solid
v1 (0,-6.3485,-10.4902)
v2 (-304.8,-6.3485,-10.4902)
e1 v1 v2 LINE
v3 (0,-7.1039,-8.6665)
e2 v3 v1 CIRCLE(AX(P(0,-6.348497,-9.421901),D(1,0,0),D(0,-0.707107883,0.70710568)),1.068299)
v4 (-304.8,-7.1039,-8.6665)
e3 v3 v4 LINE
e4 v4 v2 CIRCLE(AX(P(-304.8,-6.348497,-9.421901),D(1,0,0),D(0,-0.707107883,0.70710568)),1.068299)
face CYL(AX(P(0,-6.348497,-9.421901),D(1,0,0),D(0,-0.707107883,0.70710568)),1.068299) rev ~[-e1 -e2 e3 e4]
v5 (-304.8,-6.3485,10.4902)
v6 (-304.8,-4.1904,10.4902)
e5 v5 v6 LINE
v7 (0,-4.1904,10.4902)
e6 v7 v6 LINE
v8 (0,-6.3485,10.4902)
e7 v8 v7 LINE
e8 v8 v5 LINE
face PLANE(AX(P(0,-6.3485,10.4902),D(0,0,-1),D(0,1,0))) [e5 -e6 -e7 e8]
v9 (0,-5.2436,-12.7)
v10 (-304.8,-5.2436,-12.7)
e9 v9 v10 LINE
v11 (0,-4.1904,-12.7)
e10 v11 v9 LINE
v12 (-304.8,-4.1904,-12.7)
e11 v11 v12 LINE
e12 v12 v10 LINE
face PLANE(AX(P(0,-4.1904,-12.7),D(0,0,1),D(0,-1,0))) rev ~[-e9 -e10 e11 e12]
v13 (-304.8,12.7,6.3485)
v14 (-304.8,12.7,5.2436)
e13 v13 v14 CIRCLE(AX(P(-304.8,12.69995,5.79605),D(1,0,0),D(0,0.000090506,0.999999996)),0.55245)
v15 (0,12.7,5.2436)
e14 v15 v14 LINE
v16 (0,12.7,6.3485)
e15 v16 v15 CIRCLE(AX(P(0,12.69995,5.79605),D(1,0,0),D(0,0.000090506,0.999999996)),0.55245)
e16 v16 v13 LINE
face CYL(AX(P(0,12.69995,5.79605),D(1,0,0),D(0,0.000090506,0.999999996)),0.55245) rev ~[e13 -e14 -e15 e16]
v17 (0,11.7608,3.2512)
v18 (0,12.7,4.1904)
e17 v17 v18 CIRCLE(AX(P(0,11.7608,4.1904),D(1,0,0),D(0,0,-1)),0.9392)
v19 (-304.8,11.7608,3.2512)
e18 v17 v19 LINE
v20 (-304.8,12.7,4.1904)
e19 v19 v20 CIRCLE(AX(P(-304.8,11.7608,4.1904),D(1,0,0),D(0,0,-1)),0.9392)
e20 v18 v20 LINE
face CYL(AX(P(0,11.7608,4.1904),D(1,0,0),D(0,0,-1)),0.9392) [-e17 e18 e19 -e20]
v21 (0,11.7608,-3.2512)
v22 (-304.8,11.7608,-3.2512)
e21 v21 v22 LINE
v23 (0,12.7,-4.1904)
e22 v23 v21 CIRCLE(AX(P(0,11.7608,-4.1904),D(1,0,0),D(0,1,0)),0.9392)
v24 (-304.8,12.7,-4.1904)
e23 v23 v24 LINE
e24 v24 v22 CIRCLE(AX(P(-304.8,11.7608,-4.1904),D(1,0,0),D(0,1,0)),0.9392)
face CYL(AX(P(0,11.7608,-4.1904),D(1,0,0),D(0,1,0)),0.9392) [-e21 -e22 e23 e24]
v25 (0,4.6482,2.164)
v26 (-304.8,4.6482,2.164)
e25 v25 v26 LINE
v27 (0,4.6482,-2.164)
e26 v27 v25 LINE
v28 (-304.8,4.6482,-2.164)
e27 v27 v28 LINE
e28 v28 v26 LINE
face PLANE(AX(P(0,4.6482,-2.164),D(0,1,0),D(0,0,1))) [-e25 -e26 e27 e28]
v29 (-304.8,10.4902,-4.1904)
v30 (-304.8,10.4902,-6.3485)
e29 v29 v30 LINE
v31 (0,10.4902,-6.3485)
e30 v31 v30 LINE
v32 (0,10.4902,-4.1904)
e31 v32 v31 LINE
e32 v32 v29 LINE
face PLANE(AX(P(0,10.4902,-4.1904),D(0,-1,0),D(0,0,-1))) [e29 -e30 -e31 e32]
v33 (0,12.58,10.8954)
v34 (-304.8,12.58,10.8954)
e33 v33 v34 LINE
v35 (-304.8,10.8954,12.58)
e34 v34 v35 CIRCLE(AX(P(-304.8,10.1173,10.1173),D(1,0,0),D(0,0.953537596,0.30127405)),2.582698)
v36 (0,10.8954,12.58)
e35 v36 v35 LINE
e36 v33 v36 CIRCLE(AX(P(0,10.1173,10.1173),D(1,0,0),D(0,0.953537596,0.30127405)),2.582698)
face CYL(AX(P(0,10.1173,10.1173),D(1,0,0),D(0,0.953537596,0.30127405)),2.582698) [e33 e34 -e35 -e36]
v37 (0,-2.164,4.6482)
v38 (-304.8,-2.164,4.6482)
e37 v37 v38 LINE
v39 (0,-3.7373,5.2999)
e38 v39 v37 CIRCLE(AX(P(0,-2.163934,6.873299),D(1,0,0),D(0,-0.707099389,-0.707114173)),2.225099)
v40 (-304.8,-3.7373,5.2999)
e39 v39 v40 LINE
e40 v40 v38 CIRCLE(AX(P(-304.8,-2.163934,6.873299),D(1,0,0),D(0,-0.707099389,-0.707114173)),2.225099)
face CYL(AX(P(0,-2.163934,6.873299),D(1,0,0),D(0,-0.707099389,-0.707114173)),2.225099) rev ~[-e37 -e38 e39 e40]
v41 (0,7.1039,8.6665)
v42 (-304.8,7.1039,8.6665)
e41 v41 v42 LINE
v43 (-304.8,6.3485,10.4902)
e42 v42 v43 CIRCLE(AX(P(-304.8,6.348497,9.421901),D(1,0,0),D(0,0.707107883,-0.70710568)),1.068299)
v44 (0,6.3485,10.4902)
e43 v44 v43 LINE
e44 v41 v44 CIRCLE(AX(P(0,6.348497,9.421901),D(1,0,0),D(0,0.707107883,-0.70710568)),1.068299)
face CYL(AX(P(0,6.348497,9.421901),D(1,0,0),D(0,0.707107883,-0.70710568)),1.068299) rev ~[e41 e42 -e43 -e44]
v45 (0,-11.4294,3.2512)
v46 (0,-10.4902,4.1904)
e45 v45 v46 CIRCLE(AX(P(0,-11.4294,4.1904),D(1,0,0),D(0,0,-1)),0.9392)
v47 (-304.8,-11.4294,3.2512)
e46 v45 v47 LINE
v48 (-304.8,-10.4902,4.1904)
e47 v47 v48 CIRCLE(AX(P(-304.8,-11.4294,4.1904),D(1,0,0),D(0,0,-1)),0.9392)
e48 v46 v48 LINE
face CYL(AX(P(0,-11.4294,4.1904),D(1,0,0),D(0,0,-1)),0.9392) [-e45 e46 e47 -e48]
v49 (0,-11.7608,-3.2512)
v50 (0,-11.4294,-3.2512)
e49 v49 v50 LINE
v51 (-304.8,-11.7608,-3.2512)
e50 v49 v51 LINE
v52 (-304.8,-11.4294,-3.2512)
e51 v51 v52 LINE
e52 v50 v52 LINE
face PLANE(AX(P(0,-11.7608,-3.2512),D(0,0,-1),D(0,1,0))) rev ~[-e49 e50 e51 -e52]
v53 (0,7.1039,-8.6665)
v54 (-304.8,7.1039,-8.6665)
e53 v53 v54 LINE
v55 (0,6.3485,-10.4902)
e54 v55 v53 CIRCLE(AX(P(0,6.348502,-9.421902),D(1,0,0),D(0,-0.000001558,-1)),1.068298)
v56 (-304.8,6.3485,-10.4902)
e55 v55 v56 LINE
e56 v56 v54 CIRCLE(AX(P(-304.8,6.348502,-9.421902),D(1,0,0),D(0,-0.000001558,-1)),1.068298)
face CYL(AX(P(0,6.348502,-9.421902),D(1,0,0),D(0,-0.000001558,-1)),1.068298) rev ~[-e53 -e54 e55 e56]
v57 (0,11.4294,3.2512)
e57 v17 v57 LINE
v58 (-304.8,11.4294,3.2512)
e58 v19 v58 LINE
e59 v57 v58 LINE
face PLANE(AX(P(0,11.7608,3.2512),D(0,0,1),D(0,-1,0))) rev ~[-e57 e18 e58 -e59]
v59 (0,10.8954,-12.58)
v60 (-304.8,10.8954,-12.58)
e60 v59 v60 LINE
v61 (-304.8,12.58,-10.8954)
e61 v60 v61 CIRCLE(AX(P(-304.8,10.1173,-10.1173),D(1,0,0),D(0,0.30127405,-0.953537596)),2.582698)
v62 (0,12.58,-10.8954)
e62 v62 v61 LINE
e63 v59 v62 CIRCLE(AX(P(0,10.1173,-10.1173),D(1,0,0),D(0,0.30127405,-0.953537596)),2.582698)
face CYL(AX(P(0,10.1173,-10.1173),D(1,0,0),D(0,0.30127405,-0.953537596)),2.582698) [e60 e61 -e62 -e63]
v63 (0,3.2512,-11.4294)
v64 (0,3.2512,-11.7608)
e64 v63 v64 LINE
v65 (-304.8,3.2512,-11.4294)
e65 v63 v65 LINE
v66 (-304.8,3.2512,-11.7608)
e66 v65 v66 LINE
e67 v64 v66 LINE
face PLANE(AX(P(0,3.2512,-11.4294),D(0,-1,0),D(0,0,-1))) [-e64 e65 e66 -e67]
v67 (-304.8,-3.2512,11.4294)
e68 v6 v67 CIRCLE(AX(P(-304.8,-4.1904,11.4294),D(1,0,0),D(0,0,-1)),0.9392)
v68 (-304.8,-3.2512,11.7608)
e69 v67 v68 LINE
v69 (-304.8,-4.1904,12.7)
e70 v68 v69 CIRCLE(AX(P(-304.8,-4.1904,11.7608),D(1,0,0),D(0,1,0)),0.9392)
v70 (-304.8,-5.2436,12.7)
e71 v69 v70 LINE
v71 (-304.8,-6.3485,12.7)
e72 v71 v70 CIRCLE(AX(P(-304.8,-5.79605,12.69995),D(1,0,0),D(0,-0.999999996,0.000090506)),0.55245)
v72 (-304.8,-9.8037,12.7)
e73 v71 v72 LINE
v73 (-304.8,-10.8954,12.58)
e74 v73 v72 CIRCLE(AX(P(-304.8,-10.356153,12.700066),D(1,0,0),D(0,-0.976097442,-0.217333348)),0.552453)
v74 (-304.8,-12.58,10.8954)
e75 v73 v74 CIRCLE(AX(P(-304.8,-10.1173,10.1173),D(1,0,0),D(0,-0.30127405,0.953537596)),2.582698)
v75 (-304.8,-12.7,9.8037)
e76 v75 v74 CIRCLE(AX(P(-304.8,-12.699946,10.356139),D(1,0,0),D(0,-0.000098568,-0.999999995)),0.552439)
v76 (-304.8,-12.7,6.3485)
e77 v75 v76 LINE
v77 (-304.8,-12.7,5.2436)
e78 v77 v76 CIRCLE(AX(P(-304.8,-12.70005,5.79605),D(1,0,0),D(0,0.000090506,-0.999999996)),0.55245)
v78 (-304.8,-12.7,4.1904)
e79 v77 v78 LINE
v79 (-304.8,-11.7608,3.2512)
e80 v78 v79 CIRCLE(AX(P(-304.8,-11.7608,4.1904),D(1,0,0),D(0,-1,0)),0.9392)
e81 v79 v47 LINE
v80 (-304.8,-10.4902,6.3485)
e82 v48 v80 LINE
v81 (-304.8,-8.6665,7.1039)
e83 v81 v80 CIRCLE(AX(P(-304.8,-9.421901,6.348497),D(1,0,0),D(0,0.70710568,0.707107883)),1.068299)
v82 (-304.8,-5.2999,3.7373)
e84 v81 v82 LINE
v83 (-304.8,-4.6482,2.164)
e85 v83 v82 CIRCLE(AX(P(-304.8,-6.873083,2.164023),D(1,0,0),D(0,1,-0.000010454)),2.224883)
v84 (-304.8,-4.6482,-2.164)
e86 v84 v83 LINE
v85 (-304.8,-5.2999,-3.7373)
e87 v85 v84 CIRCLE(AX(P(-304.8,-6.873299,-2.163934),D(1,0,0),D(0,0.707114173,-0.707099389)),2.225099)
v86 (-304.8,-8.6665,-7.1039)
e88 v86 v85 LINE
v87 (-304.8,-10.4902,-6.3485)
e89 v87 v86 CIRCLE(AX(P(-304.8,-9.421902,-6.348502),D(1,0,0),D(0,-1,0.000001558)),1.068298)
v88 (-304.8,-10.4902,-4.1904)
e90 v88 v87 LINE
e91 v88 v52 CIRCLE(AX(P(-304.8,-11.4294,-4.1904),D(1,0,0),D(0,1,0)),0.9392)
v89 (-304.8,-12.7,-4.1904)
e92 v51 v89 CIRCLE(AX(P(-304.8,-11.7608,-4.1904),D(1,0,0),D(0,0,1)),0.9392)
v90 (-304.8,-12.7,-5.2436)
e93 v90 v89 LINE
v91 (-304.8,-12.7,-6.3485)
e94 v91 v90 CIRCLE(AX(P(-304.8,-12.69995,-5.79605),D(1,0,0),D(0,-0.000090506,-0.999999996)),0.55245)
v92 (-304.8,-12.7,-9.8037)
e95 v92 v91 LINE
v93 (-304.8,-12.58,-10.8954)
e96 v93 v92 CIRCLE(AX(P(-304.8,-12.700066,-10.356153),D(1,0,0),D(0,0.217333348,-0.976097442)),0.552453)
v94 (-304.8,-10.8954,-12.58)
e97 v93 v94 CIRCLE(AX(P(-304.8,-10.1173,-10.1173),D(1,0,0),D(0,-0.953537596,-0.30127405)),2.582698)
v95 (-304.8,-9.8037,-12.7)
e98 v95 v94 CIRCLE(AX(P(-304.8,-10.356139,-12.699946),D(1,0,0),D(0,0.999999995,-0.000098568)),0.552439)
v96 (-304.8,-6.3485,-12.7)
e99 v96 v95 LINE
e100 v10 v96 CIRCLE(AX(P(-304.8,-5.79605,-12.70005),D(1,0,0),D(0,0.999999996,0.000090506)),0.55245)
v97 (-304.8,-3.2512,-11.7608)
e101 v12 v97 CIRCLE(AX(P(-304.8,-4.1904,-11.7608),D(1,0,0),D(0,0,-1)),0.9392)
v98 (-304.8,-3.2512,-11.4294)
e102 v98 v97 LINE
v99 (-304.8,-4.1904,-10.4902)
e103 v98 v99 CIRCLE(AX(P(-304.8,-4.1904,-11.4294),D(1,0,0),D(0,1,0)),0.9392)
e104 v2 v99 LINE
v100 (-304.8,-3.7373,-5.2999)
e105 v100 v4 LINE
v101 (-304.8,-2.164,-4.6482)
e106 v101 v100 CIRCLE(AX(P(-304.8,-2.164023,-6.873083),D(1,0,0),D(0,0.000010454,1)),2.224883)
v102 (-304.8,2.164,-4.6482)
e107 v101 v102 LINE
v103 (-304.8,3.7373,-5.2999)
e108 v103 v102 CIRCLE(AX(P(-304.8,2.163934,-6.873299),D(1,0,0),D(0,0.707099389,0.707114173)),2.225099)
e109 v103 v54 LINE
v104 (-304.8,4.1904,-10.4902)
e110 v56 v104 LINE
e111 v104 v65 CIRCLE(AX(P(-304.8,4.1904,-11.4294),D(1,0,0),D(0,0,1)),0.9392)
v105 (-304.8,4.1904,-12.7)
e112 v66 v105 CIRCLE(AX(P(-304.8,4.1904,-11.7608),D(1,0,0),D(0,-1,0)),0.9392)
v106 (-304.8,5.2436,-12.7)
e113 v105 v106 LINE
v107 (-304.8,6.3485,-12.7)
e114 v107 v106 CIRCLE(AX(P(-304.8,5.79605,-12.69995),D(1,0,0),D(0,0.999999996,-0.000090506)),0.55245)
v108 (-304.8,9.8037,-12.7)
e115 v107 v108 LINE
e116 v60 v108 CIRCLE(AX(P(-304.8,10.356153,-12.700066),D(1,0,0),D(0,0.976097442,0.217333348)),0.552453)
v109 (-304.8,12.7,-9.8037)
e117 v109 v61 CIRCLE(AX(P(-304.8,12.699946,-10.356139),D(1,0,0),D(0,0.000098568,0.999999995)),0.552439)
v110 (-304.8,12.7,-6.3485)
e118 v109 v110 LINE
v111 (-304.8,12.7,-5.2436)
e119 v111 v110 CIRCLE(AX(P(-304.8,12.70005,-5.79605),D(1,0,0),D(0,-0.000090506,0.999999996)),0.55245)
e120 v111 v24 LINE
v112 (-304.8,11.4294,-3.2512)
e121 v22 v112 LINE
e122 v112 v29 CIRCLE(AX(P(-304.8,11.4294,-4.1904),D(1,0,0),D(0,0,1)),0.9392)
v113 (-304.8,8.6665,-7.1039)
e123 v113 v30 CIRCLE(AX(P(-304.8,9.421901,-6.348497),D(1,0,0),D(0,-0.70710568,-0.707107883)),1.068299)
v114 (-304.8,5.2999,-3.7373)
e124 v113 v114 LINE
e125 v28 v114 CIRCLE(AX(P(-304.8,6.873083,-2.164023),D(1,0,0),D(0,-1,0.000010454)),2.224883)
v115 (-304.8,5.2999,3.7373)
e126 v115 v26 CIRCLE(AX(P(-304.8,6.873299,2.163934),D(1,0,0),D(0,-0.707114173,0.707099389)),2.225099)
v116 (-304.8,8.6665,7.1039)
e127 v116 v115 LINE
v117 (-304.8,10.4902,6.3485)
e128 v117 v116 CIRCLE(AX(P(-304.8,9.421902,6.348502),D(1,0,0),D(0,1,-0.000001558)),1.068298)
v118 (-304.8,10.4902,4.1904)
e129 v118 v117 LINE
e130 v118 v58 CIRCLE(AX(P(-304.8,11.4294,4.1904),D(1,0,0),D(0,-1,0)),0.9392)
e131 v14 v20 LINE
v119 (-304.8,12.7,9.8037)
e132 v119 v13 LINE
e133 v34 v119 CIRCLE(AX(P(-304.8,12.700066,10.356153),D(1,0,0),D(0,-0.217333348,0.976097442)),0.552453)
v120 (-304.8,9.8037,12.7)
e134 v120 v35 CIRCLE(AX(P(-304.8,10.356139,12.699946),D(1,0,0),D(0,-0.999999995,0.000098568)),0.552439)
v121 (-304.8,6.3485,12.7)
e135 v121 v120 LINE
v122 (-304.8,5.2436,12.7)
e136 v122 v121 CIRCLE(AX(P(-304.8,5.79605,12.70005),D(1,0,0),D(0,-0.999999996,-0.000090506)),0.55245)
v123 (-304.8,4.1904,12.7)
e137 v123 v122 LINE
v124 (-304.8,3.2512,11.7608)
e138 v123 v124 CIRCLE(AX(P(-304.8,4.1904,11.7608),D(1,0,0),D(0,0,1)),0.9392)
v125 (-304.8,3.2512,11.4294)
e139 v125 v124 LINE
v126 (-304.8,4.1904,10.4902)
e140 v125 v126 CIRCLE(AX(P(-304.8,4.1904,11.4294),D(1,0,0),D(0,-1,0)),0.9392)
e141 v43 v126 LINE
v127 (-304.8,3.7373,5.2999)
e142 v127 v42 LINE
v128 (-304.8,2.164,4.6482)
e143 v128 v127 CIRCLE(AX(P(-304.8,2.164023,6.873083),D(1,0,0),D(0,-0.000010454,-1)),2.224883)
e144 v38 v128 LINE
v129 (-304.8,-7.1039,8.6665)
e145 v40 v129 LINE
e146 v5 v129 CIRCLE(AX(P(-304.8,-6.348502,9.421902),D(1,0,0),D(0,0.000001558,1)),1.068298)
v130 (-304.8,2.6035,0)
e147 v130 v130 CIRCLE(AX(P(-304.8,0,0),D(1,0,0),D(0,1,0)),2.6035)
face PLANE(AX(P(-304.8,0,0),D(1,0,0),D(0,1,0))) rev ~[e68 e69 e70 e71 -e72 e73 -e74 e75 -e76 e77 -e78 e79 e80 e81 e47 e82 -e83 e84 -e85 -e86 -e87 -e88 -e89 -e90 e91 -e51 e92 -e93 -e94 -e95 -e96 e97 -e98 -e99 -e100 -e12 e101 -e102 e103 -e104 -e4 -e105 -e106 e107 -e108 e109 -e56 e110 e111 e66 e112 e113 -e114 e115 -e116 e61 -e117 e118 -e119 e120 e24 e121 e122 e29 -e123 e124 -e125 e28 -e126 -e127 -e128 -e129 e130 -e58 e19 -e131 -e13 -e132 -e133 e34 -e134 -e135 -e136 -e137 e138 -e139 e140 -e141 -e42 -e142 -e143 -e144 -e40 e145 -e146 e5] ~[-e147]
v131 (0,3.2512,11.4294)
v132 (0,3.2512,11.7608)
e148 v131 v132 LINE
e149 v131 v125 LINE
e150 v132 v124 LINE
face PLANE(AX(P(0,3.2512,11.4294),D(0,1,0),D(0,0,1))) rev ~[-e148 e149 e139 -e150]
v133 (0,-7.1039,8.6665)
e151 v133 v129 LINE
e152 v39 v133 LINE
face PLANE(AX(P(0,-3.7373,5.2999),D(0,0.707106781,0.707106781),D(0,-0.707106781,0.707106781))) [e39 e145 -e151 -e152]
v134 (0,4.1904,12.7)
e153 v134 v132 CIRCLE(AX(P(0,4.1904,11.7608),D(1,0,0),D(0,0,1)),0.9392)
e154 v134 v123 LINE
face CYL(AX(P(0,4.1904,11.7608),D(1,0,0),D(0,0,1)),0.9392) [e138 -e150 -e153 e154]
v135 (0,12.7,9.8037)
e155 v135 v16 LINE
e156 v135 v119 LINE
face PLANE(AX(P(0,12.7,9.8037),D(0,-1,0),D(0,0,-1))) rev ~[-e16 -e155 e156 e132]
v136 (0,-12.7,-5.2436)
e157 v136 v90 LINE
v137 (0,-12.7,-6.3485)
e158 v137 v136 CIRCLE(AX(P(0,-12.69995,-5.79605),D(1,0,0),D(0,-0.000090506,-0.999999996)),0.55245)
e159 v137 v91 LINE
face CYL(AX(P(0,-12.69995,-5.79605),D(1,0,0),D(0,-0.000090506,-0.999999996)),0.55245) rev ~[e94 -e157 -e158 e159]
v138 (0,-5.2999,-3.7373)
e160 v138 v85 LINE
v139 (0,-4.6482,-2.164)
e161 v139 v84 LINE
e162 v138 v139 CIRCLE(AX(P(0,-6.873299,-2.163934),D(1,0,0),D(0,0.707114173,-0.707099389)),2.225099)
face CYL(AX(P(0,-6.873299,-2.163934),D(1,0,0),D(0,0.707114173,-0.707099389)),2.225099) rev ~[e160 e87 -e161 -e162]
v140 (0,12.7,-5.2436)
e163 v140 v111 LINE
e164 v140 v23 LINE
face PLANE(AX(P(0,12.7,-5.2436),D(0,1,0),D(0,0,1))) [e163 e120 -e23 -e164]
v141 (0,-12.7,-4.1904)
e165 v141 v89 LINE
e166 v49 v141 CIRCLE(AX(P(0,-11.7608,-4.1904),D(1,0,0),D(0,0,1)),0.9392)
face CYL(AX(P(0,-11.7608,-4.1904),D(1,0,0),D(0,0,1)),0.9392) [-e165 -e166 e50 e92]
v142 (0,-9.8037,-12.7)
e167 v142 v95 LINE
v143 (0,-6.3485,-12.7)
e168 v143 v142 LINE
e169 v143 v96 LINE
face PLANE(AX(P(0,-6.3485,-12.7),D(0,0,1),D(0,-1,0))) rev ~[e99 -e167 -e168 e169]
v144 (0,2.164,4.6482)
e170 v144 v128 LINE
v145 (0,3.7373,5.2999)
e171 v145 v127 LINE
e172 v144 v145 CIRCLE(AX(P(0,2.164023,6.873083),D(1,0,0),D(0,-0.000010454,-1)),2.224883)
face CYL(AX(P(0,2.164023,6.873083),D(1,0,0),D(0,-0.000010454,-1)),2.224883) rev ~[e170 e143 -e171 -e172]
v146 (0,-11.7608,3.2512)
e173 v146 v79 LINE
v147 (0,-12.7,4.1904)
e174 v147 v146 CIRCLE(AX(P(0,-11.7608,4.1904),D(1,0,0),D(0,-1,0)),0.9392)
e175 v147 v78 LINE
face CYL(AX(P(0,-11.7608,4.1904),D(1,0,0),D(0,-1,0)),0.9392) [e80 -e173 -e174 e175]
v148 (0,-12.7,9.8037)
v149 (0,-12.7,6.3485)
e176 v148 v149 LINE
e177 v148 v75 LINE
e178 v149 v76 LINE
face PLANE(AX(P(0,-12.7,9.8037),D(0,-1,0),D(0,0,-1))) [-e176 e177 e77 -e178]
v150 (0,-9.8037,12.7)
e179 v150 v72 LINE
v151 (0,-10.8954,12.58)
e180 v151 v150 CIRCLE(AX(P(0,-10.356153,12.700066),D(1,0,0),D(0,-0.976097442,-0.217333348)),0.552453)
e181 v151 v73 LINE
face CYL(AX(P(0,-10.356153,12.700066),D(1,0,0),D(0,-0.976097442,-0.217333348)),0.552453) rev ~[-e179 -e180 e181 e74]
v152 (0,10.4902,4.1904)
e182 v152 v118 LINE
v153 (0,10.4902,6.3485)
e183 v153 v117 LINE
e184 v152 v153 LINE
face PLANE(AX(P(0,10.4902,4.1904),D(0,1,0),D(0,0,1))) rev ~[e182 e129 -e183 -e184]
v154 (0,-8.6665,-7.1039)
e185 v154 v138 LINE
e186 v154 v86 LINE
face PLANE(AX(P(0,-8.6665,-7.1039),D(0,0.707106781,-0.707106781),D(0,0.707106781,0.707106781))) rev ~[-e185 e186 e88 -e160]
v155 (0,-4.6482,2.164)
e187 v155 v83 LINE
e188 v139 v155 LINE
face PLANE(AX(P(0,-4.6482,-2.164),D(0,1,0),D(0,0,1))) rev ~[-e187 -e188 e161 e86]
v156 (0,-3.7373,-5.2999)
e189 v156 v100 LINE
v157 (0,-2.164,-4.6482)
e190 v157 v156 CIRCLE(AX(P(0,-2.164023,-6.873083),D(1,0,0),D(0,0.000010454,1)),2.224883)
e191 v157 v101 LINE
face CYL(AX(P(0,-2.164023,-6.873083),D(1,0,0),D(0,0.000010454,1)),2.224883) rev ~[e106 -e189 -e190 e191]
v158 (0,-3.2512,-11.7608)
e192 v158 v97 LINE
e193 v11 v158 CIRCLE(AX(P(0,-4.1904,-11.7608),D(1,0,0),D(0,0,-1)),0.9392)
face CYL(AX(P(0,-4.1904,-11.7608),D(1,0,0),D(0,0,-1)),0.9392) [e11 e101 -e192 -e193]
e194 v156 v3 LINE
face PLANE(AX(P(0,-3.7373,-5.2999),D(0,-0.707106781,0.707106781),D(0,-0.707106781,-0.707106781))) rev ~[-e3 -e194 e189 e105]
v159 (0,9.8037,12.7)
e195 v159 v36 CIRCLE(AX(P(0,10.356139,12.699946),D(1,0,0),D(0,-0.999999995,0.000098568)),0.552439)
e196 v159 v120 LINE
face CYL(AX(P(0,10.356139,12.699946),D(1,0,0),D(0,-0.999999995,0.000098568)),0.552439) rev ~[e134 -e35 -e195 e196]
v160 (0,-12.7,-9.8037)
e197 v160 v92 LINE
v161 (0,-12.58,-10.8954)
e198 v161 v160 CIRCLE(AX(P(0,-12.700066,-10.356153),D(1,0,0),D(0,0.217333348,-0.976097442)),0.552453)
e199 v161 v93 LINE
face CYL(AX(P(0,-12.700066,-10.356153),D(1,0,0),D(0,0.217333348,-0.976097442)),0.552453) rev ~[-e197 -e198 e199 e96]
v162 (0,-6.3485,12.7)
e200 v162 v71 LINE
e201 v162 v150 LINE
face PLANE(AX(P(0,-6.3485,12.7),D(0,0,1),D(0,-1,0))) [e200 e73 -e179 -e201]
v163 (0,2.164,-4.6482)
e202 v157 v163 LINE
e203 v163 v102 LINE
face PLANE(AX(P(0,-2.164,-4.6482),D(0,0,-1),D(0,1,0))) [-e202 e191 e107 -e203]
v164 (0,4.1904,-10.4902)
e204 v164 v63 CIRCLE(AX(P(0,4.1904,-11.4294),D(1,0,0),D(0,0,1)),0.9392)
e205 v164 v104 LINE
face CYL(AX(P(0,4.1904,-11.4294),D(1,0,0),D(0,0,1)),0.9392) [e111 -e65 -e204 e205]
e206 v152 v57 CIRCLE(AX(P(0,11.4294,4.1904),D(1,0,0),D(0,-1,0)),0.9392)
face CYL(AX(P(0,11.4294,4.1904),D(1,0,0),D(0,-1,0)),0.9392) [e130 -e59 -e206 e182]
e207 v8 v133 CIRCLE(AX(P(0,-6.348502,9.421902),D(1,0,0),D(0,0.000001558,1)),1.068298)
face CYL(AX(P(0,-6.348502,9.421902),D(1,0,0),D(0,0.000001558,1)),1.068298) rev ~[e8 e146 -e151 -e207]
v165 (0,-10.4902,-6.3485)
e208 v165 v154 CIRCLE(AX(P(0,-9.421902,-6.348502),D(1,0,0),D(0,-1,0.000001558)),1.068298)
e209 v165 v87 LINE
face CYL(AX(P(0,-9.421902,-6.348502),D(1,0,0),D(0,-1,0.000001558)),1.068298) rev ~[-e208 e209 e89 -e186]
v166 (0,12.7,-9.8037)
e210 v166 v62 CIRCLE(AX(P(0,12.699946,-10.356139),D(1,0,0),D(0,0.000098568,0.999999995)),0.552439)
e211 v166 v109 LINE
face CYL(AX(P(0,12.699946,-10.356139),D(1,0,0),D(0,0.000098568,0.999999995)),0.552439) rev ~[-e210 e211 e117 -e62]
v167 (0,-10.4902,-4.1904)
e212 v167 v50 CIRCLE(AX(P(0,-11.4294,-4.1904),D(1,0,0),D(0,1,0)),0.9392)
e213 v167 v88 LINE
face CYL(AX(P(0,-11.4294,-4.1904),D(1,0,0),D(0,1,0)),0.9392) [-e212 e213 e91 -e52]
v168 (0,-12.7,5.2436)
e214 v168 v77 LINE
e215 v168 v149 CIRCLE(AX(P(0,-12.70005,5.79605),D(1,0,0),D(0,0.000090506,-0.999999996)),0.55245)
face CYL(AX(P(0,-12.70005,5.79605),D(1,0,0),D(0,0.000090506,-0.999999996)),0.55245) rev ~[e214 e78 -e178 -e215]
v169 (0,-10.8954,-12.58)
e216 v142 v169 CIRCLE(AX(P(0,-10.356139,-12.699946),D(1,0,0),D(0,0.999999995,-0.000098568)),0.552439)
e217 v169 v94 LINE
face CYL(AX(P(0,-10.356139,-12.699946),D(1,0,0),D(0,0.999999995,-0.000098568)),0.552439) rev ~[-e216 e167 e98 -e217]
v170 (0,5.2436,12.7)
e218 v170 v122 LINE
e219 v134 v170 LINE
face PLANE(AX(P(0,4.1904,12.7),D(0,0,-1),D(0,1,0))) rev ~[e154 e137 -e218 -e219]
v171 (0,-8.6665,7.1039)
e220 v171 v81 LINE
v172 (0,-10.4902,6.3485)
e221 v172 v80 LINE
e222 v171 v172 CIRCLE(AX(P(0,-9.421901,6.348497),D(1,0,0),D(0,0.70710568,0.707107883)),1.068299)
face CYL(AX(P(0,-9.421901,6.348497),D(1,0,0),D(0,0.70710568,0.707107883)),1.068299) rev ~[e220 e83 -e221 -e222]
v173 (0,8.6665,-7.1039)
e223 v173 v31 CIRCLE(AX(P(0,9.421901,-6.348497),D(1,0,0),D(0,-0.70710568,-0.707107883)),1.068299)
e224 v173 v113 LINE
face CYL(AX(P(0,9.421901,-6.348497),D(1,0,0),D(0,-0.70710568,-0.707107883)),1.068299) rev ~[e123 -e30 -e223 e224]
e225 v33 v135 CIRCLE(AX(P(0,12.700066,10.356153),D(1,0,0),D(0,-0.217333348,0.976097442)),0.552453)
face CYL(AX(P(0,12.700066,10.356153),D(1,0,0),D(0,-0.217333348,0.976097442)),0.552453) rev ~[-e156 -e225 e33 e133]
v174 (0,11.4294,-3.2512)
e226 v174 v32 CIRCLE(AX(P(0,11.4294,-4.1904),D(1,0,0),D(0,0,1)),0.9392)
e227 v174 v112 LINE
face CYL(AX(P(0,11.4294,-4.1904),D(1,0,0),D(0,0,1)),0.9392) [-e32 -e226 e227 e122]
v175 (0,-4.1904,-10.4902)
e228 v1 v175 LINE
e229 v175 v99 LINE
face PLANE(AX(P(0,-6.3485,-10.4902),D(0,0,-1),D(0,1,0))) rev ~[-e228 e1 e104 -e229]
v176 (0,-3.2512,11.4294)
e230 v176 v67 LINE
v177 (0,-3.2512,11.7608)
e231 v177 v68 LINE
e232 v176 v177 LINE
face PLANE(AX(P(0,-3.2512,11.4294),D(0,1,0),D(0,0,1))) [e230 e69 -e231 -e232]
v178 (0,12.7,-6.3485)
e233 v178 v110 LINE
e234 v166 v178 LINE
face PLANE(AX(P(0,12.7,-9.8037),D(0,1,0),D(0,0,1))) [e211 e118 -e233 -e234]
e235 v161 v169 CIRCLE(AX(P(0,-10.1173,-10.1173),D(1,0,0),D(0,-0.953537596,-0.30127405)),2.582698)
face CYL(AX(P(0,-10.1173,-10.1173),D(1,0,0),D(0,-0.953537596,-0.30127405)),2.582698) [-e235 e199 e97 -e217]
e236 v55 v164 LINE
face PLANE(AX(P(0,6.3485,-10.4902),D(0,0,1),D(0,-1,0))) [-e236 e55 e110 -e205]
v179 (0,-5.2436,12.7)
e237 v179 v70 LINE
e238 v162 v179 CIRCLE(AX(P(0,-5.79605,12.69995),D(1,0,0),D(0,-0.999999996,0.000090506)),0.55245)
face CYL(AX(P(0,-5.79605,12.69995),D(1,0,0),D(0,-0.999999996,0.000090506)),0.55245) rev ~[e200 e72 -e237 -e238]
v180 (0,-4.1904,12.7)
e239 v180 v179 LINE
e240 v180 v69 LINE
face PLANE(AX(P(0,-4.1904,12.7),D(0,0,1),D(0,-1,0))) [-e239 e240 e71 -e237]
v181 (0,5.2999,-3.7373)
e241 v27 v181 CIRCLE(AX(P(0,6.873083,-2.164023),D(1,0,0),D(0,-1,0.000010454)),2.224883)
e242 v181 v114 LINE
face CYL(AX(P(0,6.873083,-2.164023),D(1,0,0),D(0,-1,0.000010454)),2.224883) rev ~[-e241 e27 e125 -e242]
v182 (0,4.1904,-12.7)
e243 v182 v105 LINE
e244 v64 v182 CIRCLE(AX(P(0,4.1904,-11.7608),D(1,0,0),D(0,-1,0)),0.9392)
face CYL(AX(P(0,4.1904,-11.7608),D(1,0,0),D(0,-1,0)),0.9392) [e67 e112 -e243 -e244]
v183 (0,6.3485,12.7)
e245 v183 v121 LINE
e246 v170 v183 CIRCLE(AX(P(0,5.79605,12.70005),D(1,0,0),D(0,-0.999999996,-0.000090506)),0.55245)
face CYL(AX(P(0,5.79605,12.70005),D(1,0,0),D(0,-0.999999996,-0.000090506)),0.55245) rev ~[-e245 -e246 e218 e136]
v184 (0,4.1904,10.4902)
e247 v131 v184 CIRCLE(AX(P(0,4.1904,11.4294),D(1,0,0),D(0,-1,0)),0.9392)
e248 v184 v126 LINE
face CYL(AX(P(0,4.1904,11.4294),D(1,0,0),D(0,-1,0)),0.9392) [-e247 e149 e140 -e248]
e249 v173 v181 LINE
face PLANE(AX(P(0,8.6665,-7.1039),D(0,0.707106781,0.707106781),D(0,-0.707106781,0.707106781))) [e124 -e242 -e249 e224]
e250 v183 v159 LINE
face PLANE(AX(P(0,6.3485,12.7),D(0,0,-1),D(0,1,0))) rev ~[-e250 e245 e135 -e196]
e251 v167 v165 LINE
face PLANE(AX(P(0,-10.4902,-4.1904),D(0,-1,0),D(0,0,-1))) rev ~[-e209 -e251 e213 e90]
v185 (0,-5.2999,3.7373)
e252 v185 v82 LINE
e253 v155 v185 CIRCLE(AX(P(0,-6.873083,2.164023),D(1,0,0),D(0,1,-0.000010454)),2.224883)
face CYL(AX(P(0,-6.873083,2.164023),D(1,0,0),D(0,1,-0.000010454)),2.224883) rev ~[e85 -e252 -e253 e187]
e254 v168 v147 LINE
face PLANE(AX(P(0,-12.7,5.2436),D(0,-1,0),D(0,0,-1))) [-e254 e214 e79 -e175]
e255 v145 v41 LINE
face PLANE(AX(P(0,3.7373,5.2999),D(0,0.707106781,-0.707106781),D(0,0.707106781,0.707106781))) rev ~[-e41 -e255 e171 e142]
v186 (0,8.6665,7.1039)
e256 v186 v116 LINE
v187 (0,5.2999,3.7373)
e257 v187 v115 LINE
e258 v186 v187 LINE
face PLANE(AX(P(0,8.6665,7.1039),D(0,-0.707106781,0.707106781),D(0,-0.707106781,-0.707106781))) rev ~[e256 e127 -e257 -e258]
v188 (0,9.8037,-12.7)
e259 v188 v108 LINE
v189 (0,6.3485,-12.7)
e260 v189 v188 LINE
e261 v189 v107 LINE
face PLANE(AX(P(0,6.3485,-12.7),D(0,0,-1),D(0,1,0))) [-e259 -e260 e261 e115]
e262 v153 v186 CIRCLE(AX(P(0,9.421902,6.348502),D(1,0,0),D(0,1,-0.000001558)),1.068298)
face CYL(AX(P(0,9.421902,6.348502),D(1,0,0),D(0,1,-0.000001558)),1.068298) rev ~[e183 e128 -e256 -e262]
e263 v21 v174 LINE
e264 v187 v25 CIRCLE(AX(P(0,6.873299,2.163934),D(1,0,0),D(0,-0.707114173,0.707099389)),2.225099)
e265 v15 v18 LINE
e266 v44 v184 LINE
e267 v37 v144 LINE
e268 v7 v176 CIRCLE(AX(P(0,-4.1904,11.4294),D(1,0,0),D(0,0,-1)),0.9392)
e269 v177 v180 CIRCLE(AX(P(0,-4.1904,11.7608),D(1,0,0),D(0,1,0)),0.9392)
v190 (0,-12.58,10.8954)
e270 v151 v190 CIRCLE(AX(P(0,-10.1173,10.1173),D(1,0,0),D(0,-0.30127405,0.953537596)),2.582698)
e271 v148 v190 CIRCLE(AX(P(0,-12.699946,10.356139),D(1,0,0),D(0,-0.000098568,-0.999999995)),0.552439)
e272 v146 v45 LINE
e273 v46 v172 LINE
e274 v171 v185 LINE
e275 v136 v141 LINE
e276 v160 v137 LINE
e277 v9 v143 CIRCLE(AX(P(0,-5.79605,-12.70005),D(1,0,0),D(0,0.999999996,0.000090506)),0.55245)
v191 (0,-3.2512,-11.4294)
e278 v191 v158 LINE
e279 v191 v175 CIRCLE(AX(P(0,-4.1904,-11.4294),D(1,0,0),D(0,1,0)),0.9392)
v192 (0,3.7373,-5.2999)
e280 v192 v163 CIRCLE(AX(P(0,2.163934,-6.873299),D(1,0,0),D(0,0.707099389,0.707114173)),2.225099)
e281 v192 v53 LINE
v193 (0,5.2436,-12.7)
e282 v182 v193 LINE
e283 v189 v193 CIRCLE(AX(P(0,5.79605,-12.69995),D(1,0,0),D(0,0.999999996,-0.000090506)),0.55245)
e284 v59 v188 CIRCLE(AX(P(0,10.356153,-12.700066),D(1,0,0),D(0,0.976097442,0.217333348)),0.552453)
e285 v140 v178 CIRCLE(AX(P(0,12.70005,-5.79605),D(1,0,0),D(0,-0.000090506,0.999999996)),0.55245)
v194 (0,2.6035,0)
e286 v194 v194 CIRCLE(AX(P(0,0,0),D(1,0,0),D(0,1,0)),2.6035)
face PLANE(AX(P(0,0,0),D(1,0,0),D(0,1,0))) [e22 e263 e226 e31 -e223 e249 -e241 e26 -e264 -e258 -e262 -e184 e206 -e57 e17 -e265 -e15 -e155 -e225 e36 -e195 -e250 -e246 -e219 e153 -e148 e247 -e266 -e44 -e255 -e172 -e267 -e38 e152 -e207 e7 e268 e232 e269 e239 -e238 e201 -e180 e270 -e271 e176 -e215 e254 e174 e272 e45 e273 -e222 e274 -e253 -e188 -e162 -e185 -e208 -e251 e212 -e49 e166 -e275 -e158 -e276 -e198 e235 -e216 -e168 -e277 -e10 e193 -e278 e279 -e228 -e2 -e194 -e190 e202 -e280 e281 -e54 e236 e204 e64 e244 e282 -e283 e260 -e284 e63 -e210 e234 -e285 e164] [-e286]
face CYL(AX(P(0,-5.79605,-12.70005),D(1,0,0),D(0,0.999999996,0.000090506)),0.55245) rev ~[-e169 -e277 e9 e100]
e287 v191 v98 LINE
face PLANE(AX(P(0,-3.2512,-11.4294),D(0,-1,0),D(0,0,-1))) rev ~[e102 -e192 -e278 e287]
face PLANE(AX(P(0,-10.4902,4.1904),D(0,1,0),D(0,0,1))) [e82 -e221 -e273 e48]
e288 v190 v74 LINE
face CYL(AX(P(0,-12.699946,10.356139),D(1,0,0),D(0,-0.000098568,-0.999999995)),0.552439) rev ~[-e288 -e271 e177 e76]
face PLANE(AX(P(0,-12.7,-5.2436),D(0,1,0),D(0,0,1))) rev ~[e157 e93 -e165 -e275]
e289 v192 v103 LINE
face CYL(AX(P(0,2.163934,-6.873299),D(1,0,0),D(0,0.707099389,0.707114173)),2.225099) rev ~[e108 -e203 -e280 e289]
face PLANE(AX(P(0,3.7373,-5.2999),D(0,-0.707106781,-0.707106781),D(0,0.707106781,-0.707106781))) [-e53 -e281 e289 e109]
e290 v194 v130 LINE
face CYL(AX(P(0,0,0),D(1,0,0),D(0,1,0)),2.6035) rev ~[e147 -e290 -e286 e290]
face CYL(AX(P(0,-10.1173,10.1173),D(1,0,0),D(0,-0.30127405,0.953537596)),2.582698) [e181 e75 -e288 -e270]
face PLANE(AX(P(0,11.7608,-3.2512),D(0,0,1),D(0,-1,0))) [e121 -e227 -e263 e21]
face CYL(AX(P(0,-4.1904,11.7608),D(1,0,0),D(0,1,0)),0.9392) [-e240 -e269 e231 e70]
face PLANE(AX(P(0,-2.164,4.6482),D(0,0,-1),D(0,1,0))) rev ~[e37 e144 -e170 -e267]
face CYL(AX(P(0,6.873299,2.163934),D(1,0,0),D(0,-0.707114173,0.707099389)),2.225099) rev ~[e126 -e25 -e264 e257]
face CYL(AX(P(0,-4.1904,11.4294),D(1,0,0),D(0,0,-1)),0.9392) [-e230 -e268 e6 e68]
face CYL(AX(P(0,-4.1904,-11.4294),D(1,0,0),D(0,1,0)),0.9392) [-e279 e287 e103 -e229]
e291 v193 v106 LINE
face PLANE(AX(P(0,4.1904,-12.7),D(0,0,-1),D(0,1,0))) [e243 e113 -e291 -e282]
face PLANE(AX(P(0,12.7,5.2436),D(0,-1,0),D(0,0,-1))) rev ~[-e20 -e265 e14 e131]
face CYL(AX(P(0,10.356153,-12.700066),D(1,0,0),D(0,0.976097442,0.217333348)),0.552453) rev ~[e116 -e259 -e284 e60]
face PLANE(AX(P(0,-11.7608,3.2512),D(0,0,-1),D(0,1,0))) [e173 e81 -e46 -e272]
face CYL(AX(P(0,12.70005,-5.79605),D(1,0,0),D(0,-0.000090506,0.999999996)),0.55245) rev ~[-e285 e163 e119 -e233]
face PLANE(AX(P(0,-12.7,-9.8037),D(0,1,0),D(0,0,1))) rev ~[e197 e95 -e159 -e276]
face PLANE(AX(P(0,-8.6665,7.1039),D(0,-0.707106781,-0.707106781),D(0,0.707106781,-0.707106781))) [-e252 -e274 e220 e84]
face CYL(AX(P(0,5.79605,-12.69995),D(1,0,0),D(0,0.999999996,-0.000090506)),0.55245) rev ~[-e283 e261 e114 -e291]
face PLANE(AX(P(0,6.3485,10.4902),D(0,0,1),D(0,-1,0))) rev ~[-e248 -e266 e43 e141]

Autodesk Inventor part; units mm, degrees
ref_plane "YZ Plane" through (0, 0, 0) normal (1, 0, 0) x (0, 1, 0)
ref_plane "XZ Plane" through (0, 0, 0) normal (0, 1, 0) x (-1, 0, 0)
ref_plane "XY Plane" through (0, 0, 0) normal (0, 0, 1) x (1, 0, 0)
sketch "Sketch1" plane through (0, 0, 0) normal (1, 0, 0) x (0, 1, 0)
  arc A0 (12.7, -5.2436) -> (12.7, -6.3485) centre (12.7, -5.796) ccw
  line L0 (12.7, -5.2436) -> (12.7, -4.1904)
  arc A1 (12.7, -4.1904) -> (11.7608, -3.2512) centre (11.7608, -4.1904) ccw
  line L1 (11.7608, -3.2512) -> (11.4294, -3.2512)
  arc A2 (11.4294, -3.2512) -> (10.4902, -4.1904) centre (11.4294, -4.1904) ccw
  line L2 (10.4902, -4.1904) -> (10.4902, -6.3485)
  arc A3 (8.6665, -7.1039) -> (10.4902, -6.3485) centre (9.4219, -6.3485) ccw
  line L3 (8.6665, -7.1039) -> (5.2999, -3.7373)
  arc A4 (4.6482, -2.164) -> (5.2999, -3.7373) centre (6.8732, -2.164) ccw
  line L4 (4.6482, -2.164) -> (4.6482, 2.164)
  arc A5 (5.2999, 3.7373) -> (4.6482, 2.164) centre (6.8732, 2.164) ccw
  line L5 (8.6665, 7.1039) -> (5.2999, 3.7373)
  arc A6 (10.4902, 6.3485) -> (8.6665, 7.1039) centre (9.4219, 6.3485) ccw
  line L6 (10.4902, 4.1904) -> (10.4902, 6.3485)
  arc A7 (10.4902, 4.1904) -> (11.4294, 3.2512) centre (11.4294, 4.1904) ccw
  line L7 (11.7608, 3.2512) -> (11.4294, 3.2512)
  arc A8 (11.7608, 3.2512) -> (12.7, 4.1904) centre (11.7608, 4.1904) ccw
  line L8 (12.7, 5.2436) -> (12.7, 4.1904)
  arc A9 (12.7, 6.3485) -> (12.7, 5.2436) centre (12.7, 5.796) ccw
  line L9 (12.7, 9.8037) -> (12.7, 6.3485)
  arc A10 (12.58, 10.8954) -> (12.7, 9.8037) centre (12.7, 10.3562) ccw
  arc A11 (12.58, 10.8954) -> (10.8954, 12.58) centre (10.1173, 10.1173) ccw
  arc A12 (9.8037, 12.7) -> (10.8954, 12.58) centre (10.3562, 12.7) ccw
  line L10 (6.3485, 12.7) -> (9.8037, 12.7)
  arc A13 (5.2436, 12.7) -> (6.3485, 12.7) centre (5.796, 12.7) ccw
  line L11 (4.1904, 12.7) -> (5.2436, 12.7)
  arc A14 (4.1904, 12.7) -> (3.2512, 11.7608) centre (4.1904, 11.7608) ccw
  line L12 (3.2512, 11.4294) -> (3.2512, 11.7608)
  arc A15 (3.2512, 11.4294) -> (4.1904, 10.4902) centre (4.1904, 11.4294) ccw
  line L13 (6.3485, 10.4902) -> (4.1904, 10.4902)
  arc A16 (7.1039, 8.6665) -> (6.3485, 10.4902) centre (6.3485, 9.4219) ccw
  line L14 (3.7373, 5.2999) -> (7.1039, 8.6665)
  arc A17 (2.164, 4.6482) -> (3.7373, 5.2999) centre (2.164, 6.8732) ccw
  line L15 (-2.164, 4.6482) -> (2.164, 4.6482)
  arc A18 (-3.7373, 5.2999) -> (-2.164, 4.6482) centre (-2.164, 6.8732) ccw
  line L16 (-3.7373, 5.2999) -> (-7.1039, 8.6665)
  arc A19 (-6.3485, 10.4902) -> (-7.1039, 8.6665) centre (-6.3485, 9.4219) ccw
  line L17 (-6.3485, 10.4902) -> (-4.1904, 10.4902)
  arc A20 (-4.1904, 10.4902) -> (-3.2512, 11.4294) centre (-4.1904, 11.4294) ccw
  line L18 (-3.2512, 11.4294) -> (-3.2512, 11.7608)
  arc A21 (-3.2512, 11.7608) -> (-4.1904, 12.7) centre (-4.1904, 11.7608) ccw
  line L19 (-4.1904, 12.7) -> (-5.2436, 12.7)
  arc A22 (-6.3485, 12.7) -> (-5.2436, 12.7) centre (-5.796, 12.7) ccw
  line L20 (-6.3485, 12.7) -> (-9.8037, 12.7)
  arc A23 (-10.8954, 12.58) -> (-9.8037, 12.7) centre (-10.3562, 12.7) ccw
  arc A24 (-10.8954, 12.58) -> (-12.58, 10.8954) centre (-10.1173, 10.1173) ccw
  arc A25 (-12.7, 9.8037) -> (-12.58, 10.8954) centre (-12.7, 10.3562) ccw
  line L21 (-12.7, 9.8037) -> (-12.7, 6.3485)
  arc A26 (-12.7, 5.2436) -> (-12.7, 6.3485) centre (-12.7, 5.796) ccw
  line L22 (-12.7, 5.2436) -> (-12.7, 4.1904)
  arc A27 (-12.7, 4.1904) -> (-11.7608, 3.2512) centre (-11.7608, 4.1904) ccw
  line L23 (-11.7608, 3.2512) -> (-11.4294, 3.2512)
  arc A28 (-11.4294, 3.2512) -> (-10.4902, 4.1904) centre (-11.4294, 4.1904) ccw
  line L24 (-10.4902, 4.1904) -> (-10.4902, 6.3485)
  arc A29 (-8.6665, 7.1039) -> (-10.4902, 6.3485) centre (-9.4219, 6.3485) ccw
  line L25 (-8.6665, 7.1039) -> (-5.2999, 3.7373)
  arc A30 (-4.6482, 2.164) -> (-5.2999, 3.7373) centre (-6.8732, 2.164) ccw
  line L26 (-4.6482, -2.164) -> (-4.6482, 2.164)
  arc A31 (-5.2999, -3.7373) -> (-4.6482, -2.164) centre (-6.8732, -2.164) ccw
  line L27 (-8.6665, -7.1039) -> (-5.2999, -3.7373)
  arc A32 (-10.4902, -6.3485) -> (-8.6665, -7.1039) centre (-9.4219, -6.3485) ccw
  line L28 (-10.4902, -4.1904) -> (-10.4902, -6.3485)
  arc A33 (-10.4902, -4.1904) -> (-11.4294, -3.2512) centre (-11.4294, -4.1904) ccw
  line L29 (-11.7608, -3.2512) -> (-11.4294, -3.2512)
  arc A34 (-11.7608, -3.2512) -> (-12.7, -4.1904) centre (-11.7608, -4.1904) ccw
  line L30 (-12.7, -5.2436) -> (-12.7, -4.1904)
  arc A35 (-12.7, -6.3485) -> (-12.7, -5.2436) centre (-12.7, -5.796) ccw
  line L31 (-12.7, -9.8037) -> (-12.7, -6.3485)
  arc A36 (-12.58, -10.8954) -> (-12.7, -9.8037) centre (-12.7, -10.3562) ccw
  arc A37 (-12.58, -10.8954) -> (-10.8954, -12.58) centre (-10.1173, -10.1173) ccw
  arc A38 (-9.8037, -12.7) -> (-10.8954, -12.58) centre (-10.3562, -12.7) ccw
  line L32 (-6.3485, -12.7) -> (-9.8037, -12.7)
  arc A39 (-5.2436, -12.7) -> (-6.3485, -12.7) centre (-5.796, -12.7) ccw
  line L33 (-4.1904, -12.7) -> (-5.2436, -12.7)
  arc A40 (-4.1904, -12.7) -> (-3.2512, -11.7608) centre (-4.1904, -11.7608) ccw
  line L34 (-3.2512, -11.4294) -> (-3.2512, -11.7608)
  arc A41 (-3.2512, -11.4294) -> (-4.1904, -10.4902) centre (-4.1904, -11.4294) ccw
  line L35 (-6.3485, -10.4902) -> (-4.1904, -10.4902)
  arc A42 (-7.1039, -8.6665) -> (-6.3485, -10.4902) centre (-6.3485, -9.4219) ccw
  line L36 (-3.7373, -5.2999) -> (-7.1039, -8.6665)
  arc A43 (-2.164, -4.6482) -> (-3.7373, -5.2999) centre (-2.164, -6.8732) ccw
  line L37 (-2.164, -4.6482) -> (2.164, -4.6482)
  arc A44 (3.7373, -5.2999) -> (2.164, -4.6482) centre (2.164, -6.8732) ccw
  line L38 (3.7373, -5.2999) -> (7.1039, -8.6665)
  arc A45 (6.3485, -10.4902) -> (7.1039, -8.6665) centre (6.3485, -9.4219) ccw
  line L39 (6.3485, -10.4902) -> (4.1904, -10.4902)
  arc A46 (4.1904, -10.4902) -> (3.2512, -11.4294) centre (4.1904, -11.4294) ccw
  line L40 (3.2512, -11.4294) -> (3.2512, -11.7608)
  arc A47 (3.2512, -11.7608) -> (4.1904, -12.7) centre (4.1904, -11.7608) ccw
  line L41 (4.1904, -12.7) -> (5.2436, -12.7)
  arc A48 (6.3485, -12.7) -> (5.2436, -12.7) centre (5.796, -12.7) ccw
  line L42 (6.3485, -12.7) -> (9.8037, -12.7)
  arc A49 (10.8954, -12.58) -> (9.8037, -12.7) centre (10.3562, -12.7) ccw
  arc A50 (10.8954, -12.58) -> (12.58, -10.8954) centre (10.1173, -10.1173) ccw
  arc A51 (12.7, -9.8037) -> (12.58, -10.8954) centre (12.7, -10.3562) ccw
  line L43 (12.7, -9.8037) -> (12.7, -6.3485)
  circle A52 centre (0, 0) radius 2.6035
  point P0 (0, 0)
  point P1 (0, 0)
extrude "Extrusion1" add sketch "Sketch1" against normal blind 304.8
properties part number "12inStrut" material "Aluminum 6061"
